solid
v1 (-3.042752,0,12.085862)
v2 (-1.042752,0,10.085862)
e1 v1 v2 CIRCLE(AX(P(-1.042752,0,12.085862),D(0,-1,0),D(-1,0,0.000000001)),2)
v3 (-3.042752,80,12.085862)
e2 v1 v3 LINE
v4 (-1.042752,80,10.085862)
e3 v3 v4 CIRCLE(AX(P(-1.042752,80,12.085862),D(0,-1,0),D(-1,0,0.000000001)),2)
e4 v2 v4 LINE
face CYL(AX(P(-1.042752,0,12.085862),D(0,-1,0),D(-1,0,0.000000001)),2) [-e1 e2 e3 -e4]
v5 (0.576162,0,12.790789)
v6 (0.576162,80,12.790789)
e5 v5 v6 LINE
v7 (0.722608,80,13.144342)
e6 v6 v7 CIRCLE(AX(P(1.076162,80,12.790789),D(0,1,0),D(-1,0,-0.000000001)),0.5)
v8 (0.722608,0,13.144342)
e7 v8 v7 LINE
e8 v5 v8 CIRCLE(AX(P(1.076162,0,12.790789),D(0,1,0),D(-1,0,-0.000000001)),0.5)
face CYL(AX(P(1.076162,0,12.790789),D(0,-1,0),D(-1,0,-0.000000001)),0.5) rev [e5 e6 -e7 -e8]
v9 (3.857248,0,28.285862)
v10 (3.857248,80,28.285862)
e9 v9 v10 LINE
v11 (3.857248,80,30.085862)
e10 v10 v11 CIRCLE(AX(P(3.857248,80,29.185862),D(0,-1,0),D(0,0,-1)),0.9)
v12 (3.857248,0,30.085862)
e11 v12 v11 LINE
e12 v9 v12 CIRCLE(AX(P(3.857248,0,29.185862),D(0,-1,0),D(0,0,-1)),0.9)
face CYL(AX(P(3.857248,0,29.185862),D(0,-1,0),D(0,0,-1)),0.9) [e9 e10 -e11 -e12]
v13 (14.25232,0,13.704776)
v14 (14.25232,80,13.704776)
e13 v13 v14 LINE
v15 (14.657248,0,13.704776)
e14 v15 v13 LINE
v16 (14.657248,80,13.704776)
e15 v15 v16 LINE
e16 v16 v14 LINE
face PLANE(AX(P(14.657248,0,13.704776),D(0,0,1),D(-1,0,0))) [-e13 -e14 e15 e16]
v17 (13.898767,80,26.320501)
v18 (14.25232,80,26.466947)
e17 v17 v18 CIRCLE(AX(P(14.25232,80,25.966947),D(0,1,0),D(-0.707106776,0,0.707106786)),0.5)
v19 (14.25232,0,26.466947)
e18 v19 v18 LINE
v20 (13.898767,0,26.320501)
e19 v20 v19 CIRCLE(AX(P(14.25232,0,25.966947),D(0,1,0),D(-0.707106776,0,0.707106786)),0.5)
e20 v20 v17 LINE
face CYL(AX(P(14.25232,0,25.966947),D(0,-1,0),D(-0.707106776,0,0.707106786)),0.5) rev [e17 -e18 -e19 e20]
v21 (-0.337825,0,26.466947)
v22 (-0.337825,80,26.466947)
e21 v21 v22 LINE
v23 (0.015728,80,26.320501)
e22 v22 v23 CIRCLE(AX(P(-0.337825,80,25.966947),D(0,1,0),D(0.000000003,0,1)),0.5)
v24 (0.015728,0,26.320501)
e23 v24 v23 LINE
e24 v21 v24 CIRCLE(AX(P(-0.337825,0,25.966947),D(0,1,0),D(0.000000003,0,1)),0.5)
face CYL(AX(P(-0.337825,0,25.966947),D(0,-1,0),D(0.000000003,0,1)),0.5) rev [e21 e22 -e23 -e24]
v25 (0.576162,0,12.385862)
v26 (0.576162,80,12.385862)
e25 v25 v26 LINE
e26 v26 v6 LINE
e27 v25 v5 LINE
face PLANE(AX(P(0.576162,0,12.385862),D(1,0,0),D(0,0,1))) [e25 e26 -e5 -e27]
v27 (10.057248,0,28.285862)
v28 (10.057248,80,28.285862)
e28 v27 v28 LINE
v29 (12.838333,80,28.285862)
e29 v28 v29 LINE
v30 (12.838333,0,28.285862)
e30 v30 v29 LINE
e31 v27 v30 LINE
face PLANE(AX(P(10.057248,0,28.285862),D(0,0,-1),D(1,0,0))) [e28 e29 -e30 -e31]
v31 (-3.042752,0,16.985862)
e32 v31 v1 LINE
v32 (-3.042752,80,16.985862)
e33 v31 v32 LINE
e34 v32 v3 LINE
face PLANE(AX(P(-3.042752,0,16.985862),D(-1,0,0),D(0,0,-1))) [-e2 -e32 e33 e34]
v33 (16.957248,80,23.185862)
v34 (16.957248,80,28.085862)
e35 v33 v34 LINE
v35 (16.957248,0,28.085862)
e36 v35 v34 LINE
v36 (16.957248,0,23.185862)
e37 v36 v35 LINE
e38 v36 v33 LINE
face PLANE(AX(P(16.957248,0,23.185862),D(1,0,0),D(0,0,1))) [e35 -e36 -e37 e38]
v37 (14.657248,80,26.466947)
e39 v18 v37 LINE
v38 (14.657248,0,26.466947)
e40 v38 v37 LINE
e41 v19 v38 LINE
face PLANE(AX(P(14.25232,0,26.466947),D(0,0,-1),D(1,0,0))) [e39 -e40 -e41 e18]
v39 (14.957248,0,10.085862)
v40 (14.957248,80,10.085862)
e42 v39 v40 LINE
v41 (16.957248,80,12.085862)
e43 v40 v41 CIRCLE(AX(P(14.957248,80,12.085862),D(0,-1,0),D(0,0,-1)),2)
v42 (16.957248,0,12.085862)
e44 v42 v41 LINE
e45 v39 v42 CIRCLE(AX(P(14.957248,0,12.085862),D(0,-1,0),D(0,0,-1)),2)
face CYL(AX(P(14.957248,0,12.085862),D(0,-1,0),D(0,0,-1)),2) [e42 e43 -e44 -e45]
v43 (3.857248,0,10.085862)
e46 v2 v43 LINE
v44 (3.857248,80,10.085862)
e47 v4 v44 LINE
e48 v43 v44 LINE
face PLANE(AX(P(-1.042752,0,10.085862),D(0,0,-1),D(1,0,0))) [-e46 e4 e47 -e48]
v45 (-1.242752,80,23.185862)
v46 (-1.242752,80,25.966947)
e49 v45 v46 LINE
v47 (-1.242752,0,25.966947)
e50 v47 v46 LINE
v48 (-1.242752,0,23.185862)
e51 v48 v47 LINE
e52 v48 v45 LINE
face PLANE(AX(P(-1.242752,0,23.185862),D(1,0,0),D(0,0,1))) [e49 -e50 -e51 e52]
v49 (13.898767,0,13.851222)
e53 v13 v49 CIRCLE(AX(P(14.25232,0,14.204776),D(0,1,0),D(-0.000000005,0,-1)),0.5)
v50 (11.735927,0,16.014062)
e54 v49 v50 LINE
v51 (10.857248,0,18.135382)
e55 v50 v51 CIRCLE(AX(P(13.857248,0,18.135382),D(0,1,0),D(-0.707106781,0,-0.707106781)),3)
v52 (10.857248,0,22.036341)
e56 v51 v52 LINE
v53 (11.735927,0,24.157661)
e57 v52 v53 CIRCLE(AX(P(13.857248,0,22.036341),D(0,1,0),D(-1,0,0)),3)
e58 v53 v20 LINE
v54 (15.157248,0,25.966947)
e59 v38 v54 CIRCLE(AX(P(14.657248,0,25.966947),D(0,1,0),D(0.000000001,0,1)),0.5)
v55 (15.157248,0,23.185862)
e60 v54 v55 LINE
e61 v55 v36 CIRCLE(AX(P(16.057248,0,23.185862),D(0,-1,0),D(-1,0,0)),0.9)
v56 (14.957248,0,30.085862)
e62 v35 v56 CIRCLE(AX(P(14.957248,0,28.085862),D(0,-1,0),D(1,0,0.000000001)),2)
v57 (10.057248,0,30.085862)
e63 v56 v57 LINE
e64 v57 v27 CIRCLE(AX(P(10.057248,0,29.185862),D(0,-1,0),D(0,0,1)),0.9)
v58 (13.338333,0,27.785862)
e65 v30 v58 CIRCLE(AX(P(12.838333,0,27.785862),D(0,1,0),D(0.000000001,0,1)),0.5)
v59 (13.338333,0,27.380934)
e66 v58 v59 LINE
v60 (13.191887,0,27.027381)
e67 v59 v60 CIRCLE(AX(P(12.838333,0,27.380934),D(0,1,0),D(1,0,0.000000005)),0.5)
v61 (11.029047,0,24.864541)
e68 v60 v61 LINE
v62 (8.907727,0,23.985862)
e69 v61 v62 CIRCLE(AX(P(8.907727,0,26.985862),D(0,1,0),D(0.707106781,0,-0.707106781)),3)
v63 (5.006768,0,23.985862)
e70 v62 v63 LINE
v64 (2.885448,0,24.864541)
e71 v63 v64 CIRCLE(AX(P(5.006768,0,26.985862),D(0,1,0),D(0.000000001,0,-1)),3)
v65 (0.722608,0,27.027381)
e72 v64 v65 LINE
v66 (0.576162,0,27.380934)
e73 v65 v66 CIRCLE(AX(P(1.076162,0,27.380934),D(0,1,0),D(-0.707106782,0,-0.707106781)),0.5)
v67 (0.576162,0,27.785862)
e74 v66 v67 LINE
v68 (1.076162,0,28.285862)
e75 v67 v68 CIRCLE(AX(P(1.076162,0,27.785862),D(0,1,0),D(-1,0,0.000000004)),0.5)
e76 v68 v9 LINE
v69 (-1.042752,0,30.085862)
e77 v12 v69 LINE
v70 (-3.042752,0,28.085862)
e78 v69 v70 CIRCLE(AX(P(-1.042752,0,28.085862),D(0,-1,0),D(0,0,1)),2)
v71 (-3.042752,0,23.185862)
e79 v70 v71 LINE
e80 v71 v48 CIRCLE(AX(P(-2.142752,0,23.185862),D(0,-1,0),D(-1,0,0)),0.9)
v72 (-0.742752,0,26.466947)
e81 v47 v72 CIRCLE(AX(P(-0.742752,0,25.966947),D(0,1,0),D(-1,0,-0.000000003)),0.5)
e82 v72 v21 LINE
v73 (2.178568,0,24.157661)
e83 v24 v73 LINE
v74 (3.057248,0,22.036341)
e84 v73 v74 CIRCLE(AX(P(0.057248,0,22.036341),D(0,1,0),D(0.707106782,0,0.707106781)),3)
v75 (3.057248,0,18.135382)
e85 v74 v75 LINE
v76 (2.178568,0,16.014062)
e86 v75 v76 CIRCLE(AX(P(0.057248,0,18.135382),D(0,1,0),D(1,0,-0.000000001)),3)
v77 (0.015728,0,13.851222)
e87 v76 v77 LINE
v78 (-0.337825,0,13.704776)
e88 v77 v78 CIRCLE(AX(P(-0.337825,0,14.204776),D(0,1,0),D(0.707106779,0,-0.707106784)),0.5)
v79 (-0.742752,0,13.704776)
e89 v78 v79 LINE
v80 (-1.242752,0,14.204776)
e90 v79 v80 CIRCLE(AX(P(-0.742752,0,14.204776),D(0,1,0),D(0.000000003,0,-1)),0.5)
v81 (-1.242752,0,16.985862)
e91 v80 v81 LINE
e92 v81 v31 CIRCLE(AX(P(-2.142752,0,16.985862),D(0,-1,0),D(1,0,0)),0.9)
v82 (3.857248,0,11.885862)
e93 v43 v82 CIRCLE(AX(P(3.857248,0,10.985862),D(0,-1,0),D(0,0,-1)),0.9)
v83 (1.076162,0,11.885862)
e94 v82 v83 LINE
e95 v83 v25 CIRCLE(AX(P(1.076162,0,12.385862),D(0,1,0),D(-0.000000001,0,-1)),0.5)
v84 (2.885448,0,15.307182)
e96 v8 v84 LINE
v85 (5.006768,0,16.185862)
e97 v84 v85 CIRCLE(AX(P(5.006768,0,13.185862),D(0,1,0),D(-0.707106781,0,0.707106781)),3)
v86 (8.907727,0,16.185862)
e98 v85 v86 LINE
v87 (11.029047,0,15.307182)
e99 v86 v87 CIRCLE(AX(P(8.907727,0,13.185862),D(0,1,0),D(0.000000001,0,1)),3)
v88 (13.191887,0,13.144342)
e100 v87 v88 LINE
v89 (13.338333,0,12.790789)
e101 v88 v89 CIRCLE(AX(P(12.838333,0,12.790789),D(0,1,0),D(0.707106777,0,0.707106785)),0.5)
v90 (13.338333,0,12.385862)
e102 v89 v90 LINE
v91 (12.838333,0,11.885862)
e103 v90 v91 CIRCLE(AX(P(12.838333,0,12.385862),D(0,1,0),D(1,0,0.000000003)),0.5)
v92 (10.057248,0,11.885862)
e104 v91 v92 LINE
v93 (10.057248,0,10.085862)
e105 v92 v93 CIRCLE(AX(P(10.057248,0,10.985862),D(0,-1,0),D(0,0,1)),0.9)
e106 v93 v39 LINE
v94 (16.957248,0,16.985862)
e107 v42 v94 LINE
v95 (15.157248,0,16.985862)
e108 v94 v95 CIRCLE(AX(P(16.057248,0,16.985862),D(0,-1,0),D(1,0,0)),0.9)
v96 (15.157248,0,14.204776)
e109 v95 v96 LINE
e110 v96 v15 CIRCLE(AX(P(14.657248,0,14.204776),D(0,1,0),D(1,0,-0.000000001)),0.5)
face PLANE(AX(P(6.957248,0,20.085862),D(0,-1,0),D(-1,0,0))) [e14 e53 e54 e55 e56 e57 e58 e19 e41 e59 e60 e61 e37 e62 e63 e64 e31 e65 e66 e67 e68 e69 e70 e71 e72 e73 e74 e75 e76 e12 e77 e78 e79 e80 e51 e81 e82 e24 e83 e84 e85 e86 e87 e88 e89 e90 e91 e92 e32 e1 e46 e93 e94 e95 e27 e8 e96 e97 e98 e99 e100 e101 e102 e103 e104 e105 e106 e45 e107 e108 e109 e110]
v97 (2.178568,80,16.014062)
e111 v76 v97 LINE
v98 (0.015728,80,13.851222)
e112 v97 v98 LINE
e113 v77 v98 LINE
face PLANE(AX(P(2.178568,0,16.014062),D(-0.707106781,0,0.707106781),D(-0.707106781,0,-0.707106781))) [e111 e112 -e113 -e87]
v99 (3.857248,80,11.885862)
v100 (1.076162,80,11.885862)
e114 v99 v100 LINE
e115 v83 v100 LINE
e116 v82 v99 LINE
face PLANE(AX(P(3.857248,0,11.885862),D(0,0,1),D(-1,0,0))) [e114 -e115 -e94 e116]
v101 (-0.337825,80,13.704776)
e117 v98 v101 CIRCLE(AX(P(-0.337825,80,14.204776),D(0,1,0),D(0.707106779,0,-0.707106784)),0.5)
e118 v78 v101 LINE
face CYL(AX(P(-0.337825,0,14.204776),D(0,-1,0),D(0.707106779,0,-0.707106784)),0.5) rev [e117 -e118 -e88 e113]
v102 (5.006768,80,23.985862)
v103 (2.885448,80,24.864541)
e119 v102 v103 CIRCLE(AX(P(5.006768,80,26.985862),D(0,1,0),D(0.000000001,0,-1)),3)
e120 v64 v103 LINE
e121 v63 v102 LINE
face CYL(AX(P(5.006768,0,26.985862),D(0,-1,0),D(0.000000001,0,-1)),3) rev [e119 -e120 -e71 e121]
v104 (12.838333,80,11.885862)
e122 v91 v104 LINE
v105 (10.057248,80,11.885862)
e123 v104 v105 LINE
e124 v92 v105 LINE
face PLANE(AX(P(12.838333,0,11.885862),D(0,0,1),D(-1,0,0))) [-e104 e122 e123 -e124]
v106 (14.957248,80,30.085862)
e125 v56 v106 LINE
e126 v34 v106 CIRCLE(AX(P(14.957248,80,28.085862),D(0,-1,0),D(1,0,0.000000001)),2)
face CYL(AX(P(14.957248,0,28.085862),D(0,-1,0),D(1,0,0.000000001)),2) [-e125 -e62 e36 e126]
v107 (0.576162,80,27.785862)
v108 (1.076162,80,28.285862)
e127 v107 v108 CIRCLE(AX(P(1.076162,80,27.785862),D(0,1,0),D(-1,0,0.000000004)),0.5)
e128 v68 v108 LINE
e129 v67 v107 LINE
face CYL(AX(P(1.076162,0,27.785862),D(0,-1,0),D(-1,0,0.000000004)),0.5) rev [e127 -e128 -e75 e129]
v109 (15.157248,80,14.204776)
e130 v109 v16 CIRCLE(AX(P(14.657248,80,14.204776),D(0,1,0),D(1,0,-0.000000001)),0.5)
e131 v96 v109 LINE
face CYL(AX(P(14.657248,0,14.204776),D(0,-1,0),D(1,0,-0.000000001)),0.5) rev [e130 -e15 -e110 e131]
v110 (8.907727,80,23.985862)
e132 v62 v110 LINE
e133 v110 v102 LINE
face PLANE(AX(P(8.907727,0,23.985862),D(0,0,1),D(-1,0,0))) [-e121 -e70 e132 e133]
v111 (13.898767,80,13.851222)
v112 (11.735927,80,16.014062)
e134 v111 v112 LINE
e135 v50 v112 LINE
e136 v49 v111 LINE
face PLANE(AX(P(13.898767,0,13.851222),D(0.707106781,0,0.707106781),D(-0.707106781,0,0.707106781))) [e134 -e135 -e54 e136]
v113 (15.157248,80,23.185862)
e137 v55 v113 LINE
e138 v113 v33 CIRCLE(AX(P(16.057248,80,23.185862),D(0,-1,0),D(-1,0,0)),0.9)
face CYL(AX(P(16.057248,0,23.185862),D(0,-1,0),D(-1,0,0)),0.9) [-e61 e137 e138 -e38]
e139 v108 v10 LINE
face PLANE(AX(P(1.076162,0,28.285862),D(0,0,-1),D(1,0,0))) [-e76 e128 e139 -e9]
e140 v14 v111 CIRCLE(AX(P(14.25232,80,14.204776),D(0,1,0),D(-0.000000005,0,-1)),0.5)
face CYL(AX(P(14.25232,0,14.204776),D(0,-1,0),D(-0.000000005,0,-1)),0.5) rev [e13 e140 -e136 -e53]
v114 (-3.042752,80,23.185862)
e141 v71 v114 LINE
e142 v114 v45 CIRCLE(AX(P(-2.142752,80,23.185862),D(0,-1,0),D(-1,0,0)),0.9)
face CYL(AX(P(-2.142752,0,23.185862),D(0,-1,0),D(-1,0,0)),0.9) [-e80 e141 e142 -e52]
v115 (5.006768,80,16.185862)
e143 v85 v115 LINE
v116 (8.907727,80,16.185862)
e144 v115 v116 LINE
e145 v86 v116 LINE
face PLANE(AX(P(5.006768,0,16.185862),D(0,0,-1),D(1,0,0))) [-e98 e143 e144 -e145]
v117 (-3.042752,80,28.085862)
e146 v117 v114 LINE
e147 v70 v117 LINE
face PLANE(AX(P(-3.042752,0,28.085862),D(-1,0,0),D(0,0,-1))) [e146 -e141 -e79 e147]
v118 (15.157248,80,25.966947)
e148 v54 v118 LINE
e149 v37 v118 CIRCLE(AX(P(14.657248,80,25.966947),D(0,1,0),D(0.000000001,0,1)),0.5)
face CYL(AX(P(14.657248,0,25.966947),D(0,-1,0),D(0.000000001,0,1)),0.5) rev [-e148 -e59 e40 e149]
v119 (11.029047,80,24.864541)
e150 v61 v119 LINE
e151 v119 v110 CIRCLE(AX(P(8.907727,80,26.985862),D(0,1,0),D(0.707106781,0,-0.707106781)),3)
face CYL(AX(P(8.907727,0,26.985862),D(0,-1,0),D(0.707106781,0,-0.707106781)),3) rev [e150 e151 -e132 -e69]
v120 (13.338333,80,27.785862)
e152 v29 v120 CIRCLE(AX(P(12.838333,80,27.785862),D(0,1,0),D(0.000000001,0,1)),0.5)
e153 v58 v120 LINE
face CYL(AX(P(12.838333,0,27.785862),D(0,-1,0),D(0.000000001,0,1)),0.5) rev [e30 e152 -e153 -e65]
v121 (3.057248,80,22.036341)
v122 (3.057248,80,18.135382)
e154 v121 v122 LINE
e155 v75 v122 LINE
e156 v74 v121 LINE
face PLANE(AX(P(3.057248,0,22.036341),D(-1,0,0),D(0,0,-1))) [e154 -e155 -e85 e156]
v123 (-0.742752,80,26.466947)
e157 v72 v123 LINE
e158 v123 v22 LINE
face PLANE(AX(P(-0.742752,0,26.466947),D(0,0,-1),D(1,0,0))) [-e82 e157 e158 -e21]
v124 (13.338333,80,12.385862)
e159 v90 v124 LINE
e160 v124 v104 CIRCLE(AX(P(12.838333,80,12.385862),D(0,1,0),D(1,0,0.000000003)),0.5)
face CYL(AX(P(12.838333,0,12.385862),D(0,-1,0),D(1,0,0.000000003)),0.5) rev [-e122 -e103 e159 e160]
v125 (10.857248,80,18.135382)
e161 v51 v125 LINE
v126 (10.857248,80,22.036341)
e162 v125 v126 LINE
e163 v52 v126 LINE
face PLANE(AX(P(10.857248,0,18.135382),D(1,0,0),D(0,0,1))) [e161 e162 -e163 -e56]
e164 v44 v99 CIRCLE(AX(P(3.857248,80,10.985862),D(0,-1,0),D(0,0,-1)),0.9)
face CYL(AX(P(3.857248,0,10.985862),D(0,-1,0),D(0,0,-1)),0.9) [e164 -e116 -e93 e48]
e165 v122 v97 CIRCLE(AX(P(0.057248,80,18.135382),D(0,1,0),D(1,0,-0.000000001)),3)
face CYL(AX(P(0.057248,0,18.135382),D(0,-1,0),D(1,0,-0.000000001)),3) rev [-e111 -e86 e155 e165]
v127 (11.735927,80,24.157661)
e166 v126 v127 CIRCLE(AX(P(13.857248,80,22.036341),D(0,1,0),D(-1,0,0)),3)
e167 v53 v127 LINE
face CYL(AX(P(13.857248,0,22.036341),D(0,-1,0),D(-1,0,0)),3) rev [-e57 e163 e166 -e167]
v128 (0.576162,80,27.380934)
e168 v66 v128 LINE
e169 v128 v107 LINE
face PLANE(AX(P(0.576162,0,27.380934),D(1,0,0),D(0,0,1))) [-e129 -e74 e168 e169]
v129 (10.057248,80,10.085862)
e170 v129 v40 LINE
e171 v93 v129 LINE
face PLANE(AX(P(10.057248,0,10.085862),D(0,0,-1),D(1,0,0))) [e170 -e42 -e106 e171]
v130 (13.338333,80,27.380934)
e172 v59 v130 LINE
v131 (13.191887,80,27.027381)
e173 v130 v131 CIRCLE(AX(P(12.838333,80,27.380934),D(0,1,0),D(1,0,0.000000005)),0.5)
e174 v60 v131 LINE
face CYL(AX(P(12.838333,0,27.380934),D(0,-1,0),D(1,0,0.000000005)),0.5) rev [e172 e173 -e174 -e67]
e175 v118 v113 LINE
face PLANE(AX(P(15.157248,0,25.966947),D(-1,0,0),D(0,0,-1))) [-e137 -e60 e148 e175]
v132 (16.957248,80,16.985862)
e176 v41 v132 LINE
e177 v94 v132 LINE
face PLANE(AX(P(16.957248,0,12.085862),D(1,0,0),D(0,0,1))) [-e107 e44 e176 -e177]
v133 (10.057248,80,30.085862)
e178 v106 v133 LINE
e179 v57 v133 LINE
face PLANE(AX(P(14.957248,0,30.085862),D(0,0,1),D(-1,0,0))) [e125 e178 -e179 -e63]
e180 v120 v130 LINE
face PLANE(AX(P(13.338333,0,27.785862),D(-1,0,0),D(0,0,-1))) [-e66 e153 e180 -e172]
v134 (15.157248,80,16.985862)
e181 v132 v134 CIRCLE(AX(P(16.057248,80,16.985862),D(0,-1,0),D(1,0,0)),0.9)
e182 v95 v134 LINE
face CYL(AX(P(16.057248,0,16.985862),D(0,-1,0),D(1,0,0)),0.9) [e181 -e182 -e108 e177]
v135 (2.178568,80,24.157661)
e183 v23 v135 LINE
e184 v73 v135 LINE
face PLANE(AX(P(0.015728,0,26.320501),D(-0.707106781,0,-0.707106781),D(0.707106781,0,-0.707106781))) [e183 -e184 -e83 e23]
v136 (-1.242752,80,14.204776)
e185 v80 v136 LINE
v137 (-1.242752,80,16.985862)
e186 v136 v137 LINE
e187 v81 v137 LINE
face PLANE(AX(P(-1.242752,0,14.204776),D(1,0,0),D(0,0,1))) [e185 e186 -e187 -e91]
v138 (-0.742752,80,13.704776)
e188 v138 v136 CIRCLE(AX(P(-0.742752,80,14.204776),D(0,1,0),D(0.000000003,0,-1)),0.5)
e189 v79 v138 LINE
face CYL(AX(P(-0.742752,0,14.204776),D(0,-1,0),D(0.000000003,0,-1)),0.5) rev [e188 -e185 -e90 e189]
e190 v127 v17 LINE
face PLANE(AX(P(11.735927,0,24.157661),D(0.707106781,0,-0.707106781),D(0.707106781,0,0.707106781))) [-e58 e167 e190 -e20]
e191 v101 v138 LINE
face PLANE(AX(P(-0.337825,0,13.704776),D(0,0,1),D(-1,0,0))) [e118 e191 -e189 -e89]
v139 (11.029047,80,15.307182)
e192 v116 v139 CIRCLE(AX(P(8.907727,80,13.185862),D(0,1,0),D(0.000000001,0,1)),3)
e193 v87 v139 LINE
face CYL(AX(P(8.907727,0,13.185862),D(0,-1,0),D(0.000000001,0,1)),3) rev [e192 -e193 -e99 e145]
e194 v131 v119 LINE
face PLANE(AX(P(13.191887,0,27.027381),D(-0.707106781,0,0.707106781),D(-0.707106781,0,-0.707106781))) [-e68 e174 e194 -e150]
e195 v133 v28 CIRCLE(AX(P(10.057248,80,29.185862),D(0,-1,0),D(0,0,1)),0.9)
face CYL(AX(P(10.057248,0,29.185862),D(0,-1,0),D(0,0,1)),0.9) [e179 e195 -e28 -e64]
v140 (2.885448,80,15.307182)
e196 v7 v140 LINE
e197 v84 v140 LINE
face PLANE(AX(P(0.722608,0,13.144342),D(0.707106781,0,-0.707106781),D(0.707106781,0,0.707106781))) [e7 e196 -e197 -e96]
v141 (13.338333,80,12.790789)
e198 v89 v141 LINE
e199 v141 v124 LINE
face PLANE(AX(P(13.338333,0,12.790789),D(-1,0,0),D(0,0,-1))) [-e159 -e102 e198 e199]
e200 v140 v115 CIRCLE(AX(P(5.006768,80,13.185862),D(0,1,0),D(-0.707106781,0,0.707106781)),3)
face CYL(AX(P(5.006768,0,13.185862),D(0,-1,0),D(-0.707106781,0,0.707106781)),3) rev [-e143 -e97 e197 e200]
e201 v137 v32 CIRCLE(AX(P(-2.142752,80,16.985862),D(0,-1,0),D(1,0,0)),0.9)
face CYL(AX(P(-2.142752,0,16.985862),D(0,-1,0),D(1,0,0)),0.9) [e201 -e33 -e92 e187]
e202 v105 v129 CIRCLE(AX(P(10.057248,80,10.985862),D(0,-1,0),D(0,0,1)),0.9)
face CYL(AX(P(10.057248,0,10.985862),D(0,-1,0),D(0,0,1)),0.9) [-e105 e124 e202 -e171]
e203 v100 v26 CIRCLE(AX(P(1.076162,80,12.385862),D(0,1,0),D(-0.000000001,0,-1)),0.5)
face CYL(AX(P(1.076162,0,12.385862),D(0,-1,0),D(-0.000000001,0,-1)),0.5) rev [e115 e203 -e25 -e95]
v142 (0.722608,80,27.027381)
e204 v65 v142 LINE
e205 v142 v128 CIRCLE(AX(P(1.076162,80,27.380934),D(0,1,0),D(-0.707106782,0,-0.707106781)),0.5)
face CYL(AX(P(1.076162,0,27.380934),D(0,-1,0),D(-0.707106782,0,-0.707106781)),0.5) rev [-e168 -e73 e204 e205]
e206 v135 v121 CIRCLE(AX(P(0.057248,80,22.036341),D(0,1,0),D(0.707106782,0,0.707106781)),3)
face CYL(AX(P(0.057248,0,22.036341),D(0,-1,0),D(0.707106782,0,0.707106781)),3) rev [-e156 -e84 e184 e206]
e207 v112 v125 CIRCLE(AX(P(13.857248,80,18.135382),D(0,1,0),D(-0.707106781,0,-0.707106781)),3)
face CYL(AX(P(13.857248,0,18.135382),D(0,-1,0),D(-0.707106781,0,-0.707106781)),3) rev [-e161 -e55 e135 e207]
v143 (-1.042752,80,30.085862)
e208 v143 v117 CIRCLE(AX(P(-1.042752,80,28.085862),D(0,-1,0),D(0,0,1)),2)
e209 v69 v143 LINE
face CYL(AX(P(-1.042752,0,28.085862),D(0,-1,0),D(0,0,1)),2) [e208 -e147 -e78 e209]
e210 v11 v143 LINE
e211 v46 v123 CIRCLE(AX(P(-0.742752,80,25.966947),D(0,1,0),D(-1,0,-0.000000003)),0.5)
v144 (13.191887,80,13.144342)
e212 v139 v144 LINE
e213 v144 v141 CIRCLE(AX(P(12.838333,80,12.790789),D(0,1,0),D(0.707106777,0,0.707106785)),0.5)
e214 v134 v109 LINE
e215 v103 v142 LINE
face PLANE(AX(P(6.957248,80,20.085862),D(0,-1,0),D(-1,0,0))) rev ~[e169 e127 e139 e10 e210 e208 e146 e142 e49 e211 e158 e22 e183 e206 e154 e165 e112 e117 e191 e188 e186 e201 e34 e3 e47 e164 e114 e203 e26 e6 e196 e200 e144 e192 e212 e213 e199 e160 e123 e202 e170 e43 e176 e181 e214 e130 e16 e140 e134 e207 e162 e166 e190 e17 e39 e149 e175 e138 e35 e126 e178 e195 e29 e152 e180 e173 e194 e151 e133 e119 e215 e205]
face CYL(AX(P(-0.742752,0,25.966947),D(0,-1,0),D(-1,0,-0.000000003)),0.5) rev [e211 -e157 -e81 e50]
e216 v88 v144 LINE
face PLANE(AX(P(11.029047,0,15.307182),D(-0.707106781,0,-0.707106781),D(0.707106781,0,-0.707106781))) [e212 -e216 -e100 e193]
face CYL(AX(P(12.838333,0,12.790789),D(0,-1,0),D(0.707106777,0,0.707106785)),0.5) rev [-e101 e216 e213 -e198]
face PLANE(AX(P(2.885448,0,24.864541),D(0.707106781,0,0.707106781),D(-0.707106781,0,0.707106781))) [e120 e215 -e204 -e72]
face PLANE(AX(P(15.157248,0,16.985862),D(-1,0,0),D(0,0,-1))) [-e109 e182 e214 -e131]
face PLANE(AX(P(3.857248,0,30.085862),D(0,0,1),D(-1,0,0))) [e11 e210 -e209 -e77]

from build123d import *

# Parameters (mm, degrees)
EXTRUDE_1_DEPTH = 80


with BuildPart() as part:
    # 草图1 → 凸台-拉伸1 (new body)
    with BuildSketch(Plane(origin=(0, 0, 0), x_dir=(1, 0, 0), z_dir=(0, 1, 0))):
        with BuildLine():
            Line((-1.042752475, -10.085861632), (3.857247525, -10.085861632))
            ThreePointArc((3.857247525, -10.085861632), (4.757247525, -10.985861632), (3.857247525, -11.885861632))
            Line((3.857247525, -11.885861632), (1.076161722, -11.885861632))
            ThreePointArc((1.076161722, -11.885861632), (0.722608332, -12.032308241), (0.576161722, -12.385861632))
            Line((0.576161722, -12.385861632), (0.576161722, -12.790788968))
            ThreePointArc((0.576161722, -12.790788968), (0.614221956, -12.982130685), (0.722608332, -13.144342359))
            Line((0.722608332, -13.144342359), (2.885447948, -15.307181975))
            ThreePointArc((2.885447948, -15.307181975), (3.858717994, -15.957500229), (5.006768291, -16.185861632))
            Line((5.006768291, -16.185861632), (8.907726758, -16.185861632))
            ThreePointArc((8.907726758, -16.185861632), (10.055777055, -15.957500229), (11.029047102, -15.307181975))
            Line((11.029047102, -15.307181975), (13.191886718, -13.144342359))
            ThreePointArc((13.191886718, -13.144342359), (13.300273094, -12.982130685), (13.338333327, -12.790788968))
            Line((13.338333327, -12.790788968), (13.338333327, -12.385861632))
            ThreePointArc((13.338333327, -12.385861632), (13.191886718, -12.032308241), (12.838333327, -11.885861632))
            Line((12.838333327, -11.885861632), (10.057247525, -11.885861632))
            ThreePointArc((10.057247525, -11.885861632), (9.157247525, -10.985861632), (10.057247525, -10.085861632))
            Line((10.057247525, -10.085861632), (14.957247525, -10.085861632))
            ThreePointArc((14.957247525, -10.085861632), (16.371461087, -10.671648069), (16.957247525, -12.085861632))
            Line((16.957247525, -12.085861632), (16.957247525, -16.985861632))
            ThreePointArc((16.957247525, -16.985861632), (16.057247525, -17.885861632), (15.157247525, -16.985861632))
            Line((15.157247525, -16.985861632), (15.157247525, -14.204775829))
            ThreePointArc((15.157247525, -14.204775829), (15.010800915, -13.851222438), (14.657247525, -13.704775829))
            Line((14.657247525, -13.704775829), (14.252320188, -13.704775829))
            ThreePointArc((14.252320188, -13.704775829), (14.060978472, -13.742836063), (13.898766797, -13.851222438))
            Line((13.898766797, -13.851222438), (11.735927181, -16.014062054))
            ThreePointArc((11.735927181, -16.014062054), (11.085608927, -16.987332101), (10.857247525, -18.135382398))
            Line((10.857247525, -18.135382398), (10.857247525, -22.036340865))
            ThreePointArc((10.857247525, -22.036340865), (11.085608927, -23.184391162), (11.735927181, -24.157661209))
            Line((11.735927181, -24.157661209), (13.898766797, -26.320500825))
            ThreePointArc((13.898766797, -26.320500825), (14.060978472, -26.4288872), (14.252320188, -26.466947434))
            Line((14.252320188, -26.466947434), (14.657247525, -26.466947434))
            ThreePointArc((14.657247525, -26.466947434), (15.010800915, -26.320500825), (15.157247525, -25.966947434))
            Line((15.157247525, -25.966947434), (15.157247525, -23.185861632))
            ThreePointArc((15.157247525, -23.185861632), (16.057247525, -22.285861632), (16.957247525, -23.185861632))
            Line((16.957247525, -23.185861632), (16.957247525, -28.085861632))
            ThreePointArc((16.957247525, -28.085861632), (16.371461087, -29.500075194), (14.957247525, -30.085861632))
            Line((14.957247525, -30.085861632), (10.057247525, -30.085861632))
            ThreePointArc((10.057247525, -30.085861632), (9.157247525, -29.185861632), (10.057247525, -28.285861632))
            Line((10.057247525, -28.285861632), (12.838333327, -28.285861632))
            ThreePointArc((12.838333327, -28.285861632), (13.191886718, -28.139415022), (13.338333327, -27.785861632))
            Line((13.338333327, -27.785861632), (13.338333327, -27.380934295))
            ThreePointArc((13.338333327, -27.380934295), (13.300273094, -27.189592579), (13.191886718, -27.027380904))
            Line((13.191886718, -27.027380904), (11.029047102, -24.864541288))
            ThreePointArc((11.029047102, -24.864541288), (10.055777055, -24.214223034), (8.907726758, -23.985861632))
            Line((8.907726758, -23.985861632), (5.006768291, -23.985861632))
            ThreePointArc((5.006768291, -23.985861632), (3.858717994, -24.214223034), (2.885447948, -24.864541288))
            Line((2.885447948, -24.864541288), (0.722608332, -27.027380904))
            ThreePointArc((0.722608332, -27.027380904), (0.614221956, -27.189592579), (0.576161722, -27.380934295))
            Line((0.576161722, -27.380934295), (0.576161722, -27.785861632))
            ThreePointArc((0.576161722, -27.785861632), (0.722608332, -28.139415022), (1.076161722, -28.285861632))
            Line((1.076161722, -28.285861632), (3.857247525, -28.285861632))
            ThreePointArc((3.857247525, -28.285861632), (4.757247525, -29.185861632), (3.857247525, -30.085861632))
            Line((3.857247525, -30.085861632), (-1.042752475, -30.085861632))
            ThreePointArc((-1.042752475, -30.085861632), (-2.456966038, -29.500075194), (-3.042752475, -28.085861632))
            Line((-3.042752475, -28.085861632), (-3.042752475, -23.185861632))
            ThreePointArc((-3.042752475, -23.185861632), (-2.142752475, -22.285861632), (-1.242752475, -23.185861632))
            Line((-1.242752475, -23.185861632), (-1.242752475, -25.966947434))
            ThreePointArc((-1.242752475, -25.966947434), (-1.096305866, -26.320500825), (-0.742752475, -26.466947434))
            Line((-0.742752475, -26.466947434), (-0.337825138, -26.466947434))
            ThreePointArc((-0.337825138, -26.466947434), (-0.146483422, -26.4288872), (0.015728252, -26.320500825))
            Line((0.015728252, -26.320500825), (2.178567868, -24.157661209))
            ThreePointArc((2.178567868, -24.157661209), (2.828886122, -23.184391162), (3.057247525, -22.036340865))
            Line((3.057247525, -22.036340865), (3.057247525, -18.135382398))
            ThreePointArc((3.057247525, -18.135382398), (2.828886122, -16.987332101), (2.178567868, -16.014062054))
            Line((2.178567868, -16.014062054), (0.015728252, -13.851222438))
            ThreePointArc((0.015728252, -13.851222438), (-0.146483422, -13.742836063), (-0.337825138, -13.704775829))
            Line((-0.337825138, -13.704775829), (-0.742752475, -13.704775829))
            ThreePointArc((-0.742752475, -13.704775829), (-1.096305866, -13.851222438), (-1.242752475, -14.204775829))
            Line((-1.242752475, -14.204775829), (-1.242752475, -16.985861632))
            ThreePointArc((-1.242752475, -16.985861632), (-2.142752475, -17.885861632), (-3.042752475, -16.985861632))
            Line((-3.042752475, -16.985861632), (-3.042752475, -12.085861632))
            ThreePointArc((-3.042752475, -12.085861632), (-2.456966038, -10.671648069), (-1.042752475, -10.085861632))
        make_face()
    extrude(amount=EXTRUDE_1_DEPTH)


solid = part.part
